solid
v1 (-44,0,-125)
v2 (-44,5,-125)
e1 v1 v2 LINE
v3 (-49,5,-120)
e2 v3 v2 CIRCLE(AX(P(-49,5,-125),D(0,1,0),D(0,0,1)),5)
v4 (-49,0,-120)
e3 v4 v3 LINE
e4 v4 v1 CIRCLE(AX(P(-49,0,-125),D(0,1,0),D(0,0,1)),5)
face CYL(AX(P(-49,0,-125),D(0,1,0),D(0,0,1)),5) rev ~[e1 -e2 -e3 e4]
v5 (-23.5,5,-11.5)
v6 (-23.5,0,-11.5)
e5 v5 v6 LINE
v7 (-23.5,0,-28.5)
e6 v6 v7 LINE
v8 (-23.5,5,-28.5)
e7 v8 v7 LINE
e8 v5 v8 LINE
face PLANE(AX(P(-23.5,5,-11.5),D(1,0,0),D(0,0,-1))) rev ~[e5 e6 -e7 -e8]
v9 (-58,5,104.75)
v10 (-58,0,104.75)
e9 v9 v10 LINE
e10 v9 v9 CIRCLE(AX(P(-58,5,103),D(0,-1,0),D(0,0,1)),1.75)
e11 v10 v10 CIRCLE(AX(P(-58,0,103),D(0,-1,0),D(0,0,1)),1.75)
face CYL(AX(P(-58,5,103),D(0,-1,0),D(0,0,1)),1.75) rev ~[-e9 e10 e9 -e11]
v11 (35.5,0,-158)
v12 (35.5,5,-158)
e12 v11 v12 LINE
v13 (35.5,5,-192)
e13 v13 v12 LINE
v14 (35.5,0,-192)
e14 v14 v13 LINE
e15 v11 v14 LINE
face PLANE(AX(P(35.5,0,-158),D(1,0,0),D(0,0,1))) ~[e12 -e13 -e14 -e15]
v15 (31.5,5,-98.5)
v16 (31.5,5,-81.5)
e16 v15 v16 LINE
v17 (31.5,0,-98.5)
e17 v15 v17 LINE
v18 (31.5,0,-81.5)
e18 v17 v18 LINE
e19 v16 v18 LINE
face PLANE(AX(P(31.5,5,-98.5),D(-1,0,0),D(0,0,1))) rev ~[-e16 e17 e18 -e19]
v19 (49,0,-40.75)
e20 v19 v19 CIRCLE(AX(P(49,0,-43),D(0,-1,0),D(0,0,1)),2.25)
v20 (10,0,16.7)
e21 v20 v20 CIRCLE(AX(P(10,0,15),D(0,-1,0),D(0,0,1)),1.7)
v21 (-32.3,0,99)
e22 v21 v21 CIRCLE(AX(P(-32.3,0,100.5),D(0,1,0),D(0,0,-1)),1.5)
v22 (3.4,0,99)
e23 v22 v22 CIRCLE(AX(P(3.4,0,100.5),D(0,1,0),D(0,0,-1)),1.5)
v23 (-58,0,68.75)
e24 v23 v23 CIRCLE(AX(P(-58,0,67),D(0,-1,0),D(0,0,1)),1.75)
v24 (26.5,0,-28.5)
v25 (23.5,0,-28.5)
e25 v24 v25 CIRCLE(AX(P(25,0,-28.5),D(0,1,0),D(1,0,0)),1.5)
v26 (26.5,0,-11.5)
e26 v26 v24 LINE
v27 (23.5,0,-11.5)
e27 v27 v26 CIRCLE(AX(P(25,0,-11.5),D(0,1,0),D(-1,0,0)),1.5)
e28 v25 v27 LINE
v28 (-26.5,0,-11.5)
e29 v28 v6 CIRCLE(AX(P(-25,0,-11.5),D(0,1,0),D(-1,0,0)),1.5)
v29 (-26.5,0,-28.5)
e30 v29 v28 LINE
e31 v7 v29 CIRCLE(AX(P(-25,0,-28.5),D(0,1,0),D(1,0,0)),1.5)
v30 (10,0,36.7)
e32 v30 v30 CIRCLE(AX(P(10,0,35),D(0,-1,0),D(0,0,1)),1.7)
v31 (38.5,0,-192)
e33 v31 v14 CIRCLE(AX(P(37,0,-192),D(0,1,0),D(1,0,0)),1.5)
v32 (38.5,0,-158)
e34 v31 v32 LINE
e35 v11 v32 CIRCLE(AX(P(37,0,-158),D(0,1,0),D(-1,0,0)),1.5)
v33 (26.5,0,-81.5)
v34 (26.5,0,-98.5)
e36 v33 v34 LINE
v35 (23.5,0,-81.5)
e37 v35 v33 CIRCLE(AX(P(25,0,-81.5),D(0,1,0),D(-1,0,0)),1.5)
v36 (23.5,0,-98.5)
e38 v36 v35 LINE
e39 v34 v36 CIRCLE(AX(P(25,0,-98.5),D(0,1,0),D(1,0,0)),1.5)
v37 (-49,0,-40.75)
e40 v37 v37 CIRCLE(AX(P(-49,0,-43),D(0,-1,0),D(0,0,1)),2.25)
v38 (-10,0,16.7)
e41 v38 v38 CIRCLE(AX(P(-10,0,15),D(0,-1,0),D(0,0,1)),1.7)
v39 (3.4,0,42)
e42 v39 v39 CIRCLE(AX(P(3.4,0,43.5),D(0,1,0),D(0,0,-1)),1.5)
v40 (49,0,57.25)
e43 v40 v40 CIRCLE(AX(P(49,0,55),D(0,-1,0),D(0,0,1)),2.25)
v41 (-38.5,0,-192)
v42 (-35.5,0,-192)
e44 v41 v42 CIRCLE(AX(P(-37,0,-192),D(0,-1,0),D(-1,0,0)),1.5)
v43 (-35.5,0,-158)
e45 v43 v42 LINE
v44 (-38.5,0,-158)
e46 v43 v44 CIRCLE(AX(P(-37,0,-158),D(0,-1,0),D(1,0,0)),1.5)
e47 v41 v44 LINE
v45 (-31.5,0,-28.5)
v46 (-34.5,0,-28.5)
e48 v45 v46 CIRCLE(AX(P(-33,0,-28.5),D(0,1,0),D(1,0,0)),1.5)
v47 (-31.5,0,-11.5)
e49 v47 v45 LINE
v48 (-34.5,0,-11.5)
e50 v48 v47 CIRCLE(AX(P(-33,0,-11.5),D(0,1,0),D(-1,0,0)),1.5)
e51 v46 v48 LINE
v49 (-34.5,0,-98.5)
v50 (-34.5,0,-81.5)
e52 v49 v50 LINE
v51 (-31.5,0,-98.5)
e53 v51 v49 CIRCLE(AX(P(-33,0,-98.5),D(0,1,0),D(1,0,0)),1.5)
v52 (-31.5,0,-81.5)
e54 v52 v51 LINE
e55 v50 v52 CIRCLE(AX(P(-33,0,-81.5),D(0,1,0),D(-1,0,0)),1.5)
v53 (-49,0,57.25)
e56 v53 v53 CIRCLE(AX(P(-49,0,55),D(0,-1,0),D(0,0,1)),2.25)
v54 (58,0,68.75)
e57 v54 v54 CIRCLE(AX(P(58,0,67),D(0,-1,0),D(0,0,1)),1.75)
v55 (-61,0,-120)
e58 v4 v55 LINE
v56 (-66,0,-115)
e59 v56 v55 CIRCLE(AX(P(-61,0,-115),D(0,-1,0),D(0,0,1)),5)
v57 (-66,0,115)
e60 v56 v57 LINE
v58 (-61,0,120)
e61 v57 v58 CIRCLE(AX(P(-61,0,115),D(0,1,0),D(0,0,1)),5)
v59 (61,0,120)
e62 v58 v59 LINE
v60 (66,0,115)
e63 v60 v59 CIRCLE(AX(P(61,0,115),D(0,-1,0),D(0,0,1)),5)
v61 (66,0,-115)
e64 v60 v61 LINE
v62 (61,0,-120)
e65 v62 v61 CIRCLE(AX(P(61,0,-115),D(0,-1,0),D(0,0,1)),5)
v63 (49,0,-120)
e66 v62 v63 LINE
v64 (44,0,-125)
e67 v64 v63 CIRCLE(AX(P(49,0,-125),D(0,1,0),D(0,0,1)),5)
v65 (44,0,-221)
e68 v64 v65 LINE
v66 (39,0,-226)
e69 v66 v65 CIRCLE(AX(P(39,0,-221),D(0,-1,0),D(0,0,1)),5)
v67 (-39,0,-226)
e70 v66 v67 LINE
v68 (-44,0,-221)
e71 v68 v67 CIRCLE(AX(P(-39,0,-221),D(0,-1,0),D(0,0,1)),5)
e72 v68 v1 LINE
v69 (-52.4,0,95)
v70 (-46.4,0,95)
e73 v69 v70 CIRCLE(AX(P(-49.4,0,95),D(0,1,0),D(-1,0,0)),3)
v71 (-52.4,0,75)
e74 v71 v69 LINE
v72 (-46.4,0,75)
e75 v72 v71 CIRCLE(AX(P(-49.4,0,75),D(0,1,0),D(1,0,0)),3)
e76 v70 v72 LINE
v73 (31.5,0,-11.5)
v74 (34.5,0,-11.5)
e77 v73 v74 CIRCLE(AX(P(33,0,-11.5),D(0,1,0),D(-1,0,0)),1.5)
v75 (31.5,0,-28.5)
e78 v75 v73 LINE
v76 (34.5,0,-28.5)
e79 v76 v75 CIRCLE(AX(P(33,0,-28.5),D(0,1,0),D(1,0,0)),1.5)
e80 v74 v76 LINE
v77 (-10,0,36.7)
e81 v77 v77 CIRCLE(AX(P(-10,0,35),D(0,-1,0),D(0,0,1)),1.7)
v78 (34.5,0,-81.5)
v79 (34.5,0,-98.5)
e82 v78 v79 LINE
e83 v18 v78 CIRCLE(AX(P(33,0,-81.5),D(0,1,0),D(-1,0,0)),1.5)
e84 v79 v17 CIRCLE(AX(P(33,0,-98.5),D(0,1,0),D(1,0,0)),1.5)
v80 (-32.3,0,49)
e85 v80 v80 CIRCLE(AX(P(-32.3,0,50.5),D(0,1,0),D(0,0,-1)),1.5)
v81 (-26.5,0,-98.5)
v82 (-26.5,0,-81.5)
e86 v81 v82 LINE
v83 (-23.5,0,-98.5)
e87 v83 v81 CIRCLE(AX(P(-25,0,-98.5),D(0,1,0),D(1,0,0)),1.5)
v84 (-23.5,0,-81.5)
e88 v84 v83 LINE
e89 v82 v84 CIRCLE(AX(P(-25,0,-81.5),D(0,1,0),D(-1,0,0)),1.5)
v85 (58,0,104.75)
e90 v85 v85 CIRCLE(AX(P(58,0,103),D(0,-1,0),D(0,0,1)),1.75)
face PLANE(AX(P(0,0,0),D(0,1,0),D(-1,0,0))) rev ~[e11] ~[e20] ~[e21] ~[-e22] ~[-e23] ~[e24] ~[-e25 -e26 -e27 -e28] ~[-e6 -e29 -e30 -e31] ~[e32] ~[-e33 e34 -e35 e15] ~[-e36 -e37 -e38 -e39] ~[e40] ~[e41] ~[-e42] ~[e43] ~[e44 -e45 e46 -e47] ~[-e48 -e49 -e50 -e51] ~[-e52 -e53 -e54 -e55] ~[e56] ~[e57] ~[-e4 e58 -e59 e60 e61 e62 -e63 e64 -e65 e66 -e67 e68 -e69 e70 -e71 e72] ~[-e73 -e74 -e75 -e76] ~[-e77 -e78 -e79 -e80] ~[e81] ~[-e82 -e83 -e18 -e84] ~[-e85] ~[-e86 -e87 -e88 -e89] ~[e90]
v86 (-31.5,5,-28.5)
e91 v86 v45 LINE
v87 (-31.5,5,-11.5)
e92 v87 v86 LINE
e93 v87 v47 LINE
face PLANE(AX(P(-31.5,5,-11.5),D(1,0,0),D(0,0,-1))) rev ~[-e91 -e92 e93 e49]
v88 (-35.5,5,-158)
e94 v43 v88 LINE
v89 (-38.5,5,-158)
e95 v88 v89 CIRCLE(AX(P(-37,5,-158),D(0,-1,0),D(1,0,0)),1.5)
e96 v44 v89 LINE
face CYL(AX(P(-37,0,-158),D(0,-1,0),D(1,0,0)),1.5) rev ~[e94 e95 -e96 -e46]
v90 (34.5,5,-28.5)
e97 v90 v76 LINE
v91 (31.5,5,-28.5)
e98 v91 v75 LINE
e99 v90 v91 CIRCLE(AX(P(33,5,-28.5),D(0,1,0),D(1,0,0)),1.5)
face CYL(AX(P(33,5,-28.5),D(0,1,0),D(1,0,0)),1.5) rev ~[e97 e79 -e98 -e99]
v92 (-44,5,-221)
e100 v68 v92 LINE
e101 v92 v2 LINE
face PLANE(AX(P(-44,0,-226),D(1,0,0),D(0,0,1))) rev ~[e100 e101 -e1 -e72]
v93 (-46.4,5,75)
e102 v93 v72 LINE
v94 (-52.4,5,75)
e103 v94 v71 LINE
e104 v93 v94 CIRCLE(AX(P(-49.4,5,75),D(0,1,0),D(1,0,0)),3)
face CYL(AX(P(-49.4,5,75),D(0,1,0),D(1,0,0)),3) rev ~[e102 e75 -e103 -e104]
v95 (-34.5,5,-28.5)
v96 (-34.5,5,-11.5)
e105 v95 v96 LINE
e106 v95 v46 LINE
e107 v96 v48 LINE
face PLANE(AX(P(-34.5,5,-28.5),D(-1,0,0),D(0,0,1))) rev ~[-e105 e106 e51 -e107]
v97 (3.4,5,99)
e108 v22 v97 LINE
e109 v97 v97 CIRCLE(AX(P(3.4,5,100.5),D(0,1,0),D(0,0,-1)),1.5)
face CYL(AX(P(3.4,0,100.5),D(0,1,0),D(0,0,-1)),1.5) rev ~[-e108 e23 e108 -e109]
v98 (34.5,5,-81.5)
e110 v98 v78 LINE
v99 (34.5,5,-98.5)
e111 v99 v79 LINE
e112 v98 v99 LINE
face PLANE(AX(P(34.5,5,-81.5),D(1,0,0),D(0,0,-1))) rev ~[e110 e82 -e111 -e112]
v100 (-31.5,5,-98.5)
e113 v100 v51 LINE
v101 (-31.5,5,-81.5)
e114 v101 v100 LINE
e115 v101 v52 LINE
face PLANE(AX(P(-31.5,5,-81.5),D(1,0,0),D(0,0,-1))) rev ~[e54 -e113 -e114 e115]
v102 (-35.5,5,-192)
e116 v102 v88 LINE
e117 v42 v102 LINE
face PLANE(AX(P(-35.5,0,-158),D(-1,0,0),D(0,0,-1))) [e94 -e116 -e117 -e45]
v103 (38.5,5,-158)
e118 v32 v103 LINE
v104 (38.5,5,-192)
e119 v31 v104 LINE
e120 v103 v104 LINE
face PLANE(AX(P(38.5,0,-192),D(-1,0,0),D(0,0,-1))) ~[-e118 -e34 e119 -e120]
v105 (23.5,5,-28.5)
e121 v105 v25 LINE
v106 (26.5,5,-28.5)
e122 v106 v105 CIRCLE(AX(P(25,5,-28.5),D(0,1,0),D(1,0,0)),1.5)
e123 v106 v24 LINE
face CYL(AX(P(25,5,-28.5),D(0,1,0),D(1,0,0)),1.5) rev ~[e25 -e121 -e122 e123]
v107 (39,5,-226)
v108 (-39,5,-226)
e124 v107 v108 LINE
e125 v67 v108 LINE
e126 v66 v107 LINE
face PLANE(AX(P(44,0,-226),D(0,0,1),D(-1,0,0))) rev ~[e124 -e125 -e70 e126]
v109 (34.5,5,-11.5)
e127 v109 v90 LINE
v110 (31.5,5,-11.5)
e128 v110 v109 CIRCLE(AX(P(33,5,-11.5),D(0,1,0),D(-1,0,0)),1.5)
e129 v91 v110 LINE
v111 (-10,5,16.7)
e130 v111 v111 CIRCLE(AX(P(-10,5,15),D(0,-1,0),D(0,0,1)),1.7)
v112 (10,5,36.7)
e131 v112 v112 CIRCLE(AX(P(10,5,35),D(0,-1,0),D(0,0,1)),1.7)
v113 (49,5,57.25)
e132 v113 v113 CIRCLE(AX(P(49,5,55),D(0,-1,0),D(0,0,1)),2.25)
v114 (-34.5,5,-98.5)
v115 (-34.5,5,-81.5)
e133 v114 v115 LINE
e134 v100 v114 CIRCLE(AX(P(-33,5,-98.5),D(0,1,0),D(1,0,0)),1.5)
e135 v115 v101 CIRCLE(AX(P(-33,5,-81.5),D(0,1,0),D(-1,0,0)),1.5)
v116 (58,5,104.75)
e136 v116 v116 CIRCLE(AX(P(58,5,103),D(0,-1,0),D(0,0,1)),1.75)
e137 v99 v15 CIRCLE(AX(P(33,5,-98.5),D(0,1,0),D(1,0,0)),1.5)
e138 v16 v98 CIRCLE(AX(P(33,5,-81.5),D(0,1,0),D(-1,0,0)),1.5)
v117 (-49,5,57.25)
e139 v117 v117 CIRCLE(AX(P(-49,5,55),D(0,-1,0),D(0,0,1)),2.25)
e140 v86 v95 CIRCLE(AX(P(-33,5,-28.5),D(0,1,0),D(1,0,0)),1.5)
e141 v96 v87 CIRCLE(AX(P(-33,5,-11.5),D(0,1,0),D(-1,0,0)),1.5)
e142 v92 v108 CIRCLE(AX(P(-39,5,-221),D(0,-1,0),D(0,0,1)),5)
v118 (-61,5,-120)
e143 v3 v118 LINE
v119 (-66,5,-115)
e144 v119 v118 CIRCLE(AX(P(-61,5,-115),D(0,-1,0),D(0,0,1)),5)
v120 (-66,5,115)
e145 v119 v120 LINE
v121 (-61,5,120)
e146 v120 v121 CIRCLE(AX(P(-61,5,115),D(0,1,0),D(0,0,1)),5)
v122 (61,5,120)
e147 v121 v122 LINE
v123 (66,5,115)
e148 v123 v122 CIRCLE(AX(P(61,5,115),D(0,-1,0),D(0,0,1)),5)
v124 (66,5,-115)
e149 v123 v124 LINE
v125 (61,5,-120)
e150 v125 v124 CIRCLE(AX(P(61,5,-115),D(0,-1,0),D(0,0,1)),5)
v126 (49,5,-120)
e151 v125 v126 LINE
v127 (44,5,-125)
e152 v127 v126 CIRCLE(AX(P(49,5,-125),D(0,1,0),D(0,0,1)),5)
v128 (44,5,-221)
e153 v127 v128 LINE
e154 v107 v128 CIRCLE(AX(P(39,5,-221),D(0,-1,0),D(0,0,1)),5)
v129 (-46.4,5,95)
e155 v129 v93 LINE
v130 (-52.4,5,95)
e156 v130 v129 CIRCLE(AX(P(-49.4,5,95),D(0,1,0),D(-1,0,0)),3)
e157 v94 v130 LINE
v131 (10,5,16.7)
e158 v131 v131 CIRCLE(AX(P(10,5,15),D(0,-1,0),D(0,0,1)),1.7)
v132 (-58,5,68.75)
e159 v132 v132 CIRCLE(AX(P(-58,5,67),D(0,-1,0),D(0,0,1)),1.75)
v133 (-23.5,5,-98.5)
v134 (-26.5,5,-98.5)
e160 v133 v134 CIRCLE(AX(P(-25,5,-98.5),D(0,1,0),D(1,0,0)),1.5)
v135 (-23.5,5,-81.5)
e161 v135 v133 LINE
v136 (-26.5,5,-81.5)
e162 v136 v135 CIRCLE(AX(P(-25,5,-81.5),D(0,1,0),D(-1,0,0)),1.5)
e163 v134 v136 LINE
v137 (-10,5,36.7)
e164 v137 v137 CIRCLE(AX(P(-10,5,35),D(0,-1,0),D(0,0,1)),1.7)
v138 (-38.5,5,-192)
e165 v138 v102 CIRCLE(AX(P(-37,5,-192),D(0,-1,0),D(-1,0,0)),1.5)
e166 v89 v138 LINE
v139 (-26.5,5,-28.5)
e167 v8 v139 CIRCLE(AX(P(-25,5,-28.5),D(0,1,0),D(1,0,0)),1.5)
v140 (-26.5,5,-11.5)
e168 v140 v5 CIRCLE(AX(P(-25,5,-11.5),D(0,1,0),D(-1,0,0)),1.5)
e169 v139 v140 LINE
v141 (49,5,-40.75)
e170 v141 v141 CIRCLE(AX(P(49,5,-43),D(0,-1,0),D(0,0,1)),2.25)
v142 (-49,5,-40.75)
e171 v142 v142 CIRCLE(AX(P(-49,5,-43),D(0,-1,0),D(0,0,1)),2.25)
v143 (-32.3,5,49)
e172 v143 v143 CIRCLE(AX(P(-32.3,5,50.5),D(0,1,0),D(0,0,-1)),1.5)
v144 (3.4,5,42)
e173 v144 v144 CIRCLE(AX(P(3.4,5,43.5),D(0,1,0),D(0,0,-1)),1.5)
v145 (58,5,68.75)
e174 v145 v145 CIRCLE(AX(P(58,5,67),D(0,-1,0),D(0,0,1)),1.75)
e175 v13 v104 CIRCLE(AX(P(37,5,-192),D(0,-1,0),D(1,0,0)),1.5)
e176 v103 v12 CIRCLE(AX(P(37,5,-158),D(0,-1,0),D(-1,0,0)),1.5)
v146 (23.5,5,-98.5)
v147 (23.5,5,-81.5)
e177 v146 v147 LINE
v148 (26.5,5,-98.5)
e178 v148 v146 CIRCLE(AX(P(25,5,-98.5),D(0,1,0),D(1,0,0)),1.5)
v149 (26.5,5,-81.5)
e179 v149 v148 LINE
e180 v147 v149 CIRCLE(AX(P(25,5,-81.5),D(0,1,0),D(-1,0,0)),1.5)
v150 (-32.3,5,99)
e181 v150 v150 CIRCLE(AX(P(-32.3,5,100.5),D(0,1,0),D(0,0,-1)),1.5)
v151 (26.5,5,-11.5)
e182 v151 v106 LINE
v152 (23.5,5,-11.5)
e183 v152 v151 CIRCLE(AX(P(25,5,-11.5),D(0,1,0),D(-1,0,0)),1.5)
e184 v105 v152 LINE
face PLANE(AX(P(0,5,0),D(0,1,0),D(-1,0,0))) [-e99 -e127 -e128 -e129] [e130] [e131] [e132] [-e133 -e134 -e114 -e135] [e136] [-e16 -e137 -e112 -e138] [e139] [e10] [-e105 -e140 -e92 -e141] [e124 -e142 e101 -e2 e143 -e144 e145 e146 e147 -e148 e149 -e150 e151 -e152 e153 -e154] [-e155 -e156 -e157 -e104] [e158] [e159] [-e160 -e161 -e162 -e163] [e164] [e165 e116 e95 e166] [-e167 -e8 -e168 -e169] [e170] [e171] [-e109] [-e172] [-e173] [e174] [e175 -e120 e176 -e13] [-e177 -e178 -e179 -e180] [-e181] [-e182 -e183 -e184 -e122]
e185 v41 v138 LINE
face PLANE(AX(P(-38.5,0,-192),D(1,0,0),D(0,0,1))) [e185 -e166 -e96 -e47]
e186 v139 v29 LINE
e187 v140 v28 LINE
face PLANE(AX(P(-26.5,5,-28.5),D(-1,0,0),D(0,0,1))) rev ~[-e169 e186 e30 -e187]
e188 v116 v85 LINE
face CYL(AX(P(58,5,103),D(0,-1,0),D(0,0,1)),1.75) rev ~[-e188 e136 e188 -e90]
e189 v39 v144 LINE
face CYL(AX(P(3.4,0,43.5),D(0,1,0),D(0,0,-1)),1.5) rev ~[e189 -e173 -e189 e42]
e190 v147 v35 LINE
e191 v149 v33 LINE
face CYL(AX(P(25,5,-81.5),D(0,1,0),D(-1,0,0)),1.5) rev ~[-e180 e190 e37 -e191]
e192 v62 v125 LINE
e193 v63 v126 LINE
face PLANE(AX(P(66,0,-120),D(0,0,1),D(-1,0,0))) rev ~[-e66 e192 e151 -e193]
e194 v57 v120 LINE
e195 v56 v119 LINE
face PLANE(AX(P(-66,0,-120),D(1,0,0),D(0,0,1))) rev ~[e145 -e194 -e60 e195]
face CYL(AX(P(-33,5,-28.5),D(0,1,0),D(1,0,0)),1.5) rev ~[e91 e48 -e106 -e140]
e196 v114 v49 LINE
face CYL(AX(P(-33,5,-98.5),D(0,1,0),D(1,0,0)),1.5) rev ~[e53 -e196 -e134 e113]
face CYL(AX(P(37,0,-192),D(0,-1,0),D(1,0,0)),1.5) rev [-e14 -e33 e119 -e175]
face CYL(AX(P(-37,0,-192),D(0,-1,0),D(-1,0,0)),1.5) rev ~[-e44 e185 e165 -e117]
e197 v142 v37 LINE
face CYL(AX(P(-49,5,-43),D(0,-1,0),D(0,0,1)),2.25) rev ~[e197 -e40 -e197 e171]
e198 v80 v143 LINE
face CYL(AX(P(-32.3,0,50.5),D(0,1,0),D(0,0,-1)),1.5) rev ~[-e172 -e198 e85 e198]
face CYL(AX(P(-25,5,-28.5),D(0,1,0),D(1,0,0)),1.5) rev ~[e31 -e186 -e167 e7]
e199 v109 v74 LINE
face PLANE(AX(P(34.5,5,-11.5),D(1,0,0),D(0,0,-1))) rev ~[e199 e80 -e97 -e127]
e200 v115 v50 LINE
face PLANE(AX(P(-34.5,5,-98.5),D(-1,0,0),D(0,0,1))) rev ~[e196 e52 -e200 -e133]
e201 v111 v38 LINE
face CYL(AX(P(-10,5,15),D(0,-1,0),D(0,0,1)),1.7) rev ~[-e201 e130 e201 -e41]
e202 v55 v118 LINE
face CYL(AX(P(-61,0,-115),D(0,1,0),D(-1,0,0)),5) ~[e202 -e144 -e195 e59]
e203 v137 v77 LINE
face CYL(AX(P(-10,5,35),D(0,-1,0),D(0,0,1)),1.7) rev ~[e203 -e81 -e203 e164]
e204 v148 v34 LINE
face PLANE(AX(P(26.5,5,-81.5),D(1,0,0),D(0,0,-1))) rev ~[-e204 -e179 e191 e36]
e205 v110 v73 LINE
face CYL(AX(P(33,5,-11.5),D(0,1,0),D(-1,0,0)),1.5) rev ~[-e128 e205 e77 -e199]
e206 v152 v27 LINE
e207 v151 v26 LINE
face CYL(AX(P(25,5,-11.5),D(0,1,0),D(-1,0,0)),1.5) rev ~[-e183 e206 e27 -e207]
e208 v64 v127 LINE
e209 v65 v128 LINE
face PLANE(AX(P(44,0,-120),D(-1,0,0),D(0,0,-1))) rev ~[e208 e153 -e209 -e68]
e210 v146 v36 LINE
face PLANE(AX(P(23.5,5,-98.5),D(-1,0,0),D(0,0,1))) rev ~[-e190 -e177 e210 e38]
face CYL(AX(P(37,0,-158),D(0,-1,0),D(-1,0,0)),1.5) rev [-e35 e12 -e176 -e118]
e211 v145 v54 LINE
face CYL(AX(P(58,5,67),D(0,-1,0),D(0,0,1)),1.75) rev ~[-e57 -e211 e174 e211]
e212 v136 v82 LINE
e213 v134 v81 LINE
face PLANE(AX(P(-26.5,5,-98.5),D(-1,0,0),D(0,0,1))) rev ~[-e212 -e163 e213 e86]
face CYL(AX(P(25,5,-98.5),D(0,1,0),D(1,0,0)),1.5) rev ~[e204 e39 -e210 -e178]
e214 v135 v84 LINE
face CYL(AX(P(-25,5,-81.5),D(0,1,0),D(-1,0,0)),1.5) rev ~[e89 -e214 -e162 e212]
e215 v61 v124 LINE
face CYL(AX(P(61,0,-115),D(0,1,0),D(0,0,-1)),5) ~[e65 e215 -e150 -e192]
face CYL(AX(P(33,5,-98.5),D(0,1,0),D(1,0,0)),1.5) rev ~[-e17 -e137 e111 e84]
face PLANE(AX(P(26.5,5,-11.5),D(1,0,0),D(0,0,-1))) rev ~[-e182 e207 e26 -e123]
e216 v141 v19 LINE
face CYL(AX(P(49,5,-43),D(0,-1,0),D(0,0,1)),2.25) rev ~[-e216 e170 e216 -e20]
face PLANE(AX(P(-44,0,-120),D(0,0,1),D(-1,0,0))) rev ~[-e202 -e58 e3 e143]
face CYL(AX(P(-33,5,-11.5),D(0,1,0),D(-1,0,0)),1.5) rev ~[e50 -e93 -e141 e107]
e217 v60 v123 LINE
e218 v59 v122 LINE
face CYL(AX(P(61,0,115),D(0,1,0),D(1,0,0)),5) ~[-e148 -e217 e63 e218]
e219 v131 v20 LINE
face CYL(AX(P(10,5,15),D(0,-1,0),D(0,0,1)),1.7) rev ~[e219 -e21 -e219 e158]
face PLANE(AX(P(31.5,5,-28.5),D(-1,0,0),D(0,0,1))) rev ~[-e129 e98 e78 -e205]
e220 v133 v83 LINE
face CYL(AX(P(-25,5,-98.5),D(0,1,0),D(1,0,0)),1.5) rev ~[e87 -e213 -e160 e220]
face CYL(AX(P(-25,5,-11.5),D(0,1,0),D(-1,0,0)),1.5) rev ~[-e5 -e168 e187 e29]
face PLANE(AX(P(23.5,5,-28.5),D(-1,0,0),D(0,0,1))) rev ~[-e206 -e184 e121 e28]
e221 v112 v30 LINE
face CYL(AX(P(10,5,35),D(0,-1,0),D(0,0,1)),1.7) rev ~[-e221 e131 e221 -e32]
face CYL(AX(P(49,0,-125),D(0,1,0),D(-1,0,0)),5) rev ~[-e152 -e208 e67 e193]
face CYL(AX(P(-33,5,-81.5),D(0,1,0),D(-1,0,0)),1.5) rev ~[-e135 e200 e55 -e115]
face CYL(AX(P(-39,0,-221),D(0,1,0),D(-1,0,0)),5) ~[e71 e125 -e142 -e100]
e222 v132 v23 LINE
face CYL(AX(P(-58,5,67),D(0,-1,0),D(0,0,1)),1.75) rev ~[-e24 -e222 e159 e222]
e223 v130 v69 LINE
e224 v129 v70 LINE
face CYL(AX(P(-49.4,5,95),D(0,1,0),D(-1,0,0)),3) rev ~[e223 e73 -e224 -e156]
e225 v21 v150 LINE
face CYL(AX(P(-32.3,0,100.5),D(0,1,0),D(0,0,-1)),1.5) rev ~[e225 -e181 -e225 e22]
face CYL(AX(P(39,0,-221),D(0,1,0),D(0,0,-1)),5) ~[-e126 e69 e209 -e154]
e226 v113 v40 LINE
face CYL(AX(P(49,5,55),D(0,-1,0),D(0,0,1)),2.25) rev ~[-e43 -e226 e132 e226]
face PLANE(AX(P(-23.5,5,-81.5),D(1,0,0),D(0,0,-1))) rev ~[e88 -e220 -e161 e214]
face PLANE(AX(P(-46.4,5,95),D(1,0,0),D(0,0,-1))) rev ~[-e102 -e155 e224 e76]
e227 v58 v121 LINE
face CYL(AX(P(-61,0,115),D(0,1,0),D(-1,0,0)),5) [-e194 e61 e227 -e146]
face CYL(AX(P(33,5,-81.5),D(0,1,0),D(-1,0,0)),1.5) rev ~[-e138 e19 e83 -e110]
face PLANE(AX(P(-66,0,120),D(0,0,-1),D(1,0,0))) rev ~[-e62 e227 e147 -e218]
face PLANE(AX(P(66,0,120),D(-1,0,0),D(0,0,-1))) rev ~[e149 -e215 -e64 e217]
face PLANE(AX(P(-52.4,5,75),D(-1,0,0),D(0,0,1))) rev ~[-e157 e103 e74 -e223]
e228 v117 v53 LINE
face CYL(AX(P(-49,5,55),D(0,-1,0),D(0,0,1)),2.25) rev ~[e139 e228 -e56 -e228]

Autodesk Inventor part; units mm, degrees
ref_plane "YZ Plane" through (0, 0, 0) normal (1, 0, 0) x (0, 1, 0)
ref_plane "XZ Plane" through (0, 0, 0) normal (0, 1, 0) x (-1, 0, 0)
ref_plane "XY Plane" through (0, 0, 0) normal (0, 0, 1) x (1, 0, 0)
sketch "Esquisse1" plane through (0, 0, 0) normal (0, 1, 0) x (-1, 0, 0)
  line L0 (66, 120) -> (-66, 120)
  line L1 (-66, 120) -> (-66, -120)
  line L2 (66, -120) -> (66, 120)
  line L3 (66, 120) -> (-66, -120) construction
  line L4 (-66, 120) -> (66, -120) construction
  line L5 (-44, -120) -> (-44, -226)
  line L6 (-44, -226) -> (44, -226)
  line L7 (44, -226) -> (44, -120)
  line L8 (-66, -120) -> (-44, -120)
  line L9 (44, -120) -> (66, -120)
  point P0 (0, 0)
  dimension "d0" = 240
  dimension "d1" = 132
  dimension "d2" = 88
  dimension "d3" = 44
  dimension "d5" = 346
extrude "Extrusion1" add sketch "Esquisse1" along normal blind 5
fillet "Congé1" radius 5 8 edges at (-66, 2.5, 120) (66, 2.5, 120) (66, 2.5, -120) (44, 2.5, -226) (44, 2.5, -120) (-44, 2.5, -226) (-44, 2.5, -120) (-66, 2.5, -120)
sketch "Esquisse3" plane through (0, 5, 0) normal (0, 1, 0) x (1, 0, 0)
  line L0 (-61, -120) -> (61, -120) projected
  line L1 (-66, 115) -> (-66, -115) projected
  point P0 (0, 0)
  point P1 (-58, -103)
  dimension "d31" = 17
  dimension "d32" = 8
hole "Perçage2" at (-58, 5, 103) direction (0, -1, 0) diameter 3.5 end through all
pattern_linear "Réseau rectangulaire2" count 2 spacing 36 along (0, 0, -1) count 2 spacing 116 along (1, 0, 0) of "Perçage2"
sketch "Esquisse4" plane through (0, 5, 0) normal (0, 1, 0) x (1, 0, 0)
  line L0 (-49.4, -75) -> (-49.4, -95) construction
  line L1 (-52.4, -75) -> (-52.4, -95)
  line L2 (-46.4, -95) -> (-46.4, -75)
  arc A0 (-46.4, -75) -> (-52.4, -75) centre (-49.4, -75) ccw
  arc A1 (-52.4, -95) -> (-46.4, -95) centre (-49.4, -95) ccw
  line L3 (66, -115) -> (66, 115) projected
  line L4 (-61, -120) -> (61, -120) projected
  line L5 (-66, 115) -> (-66, -115) projected
  point P0 (0, 0)
  point P1 (-49.4, -85)
  dimension "d39" = 3
  dimension "d41" = 35
  dimension "d42" = 20
  dimension "d45" = 16.6
extrude "Extrusion2" cut sketch "Esquisse4" against normal through all
sketch "Esquisse5" plane through (0, 0, 0) normal (0, -1, 0) x (1, 0, 0)
  line L0 (-61, 120) -> (61, 120) projected
  line L1 (-66, -115) -> (-66, 115) projected
  point P0 (0, 0)
  point P1 (3.4, 100.5)
  dimension "d53" = 19.5
  dimension "d54" = 69.4
hole "Perçage3" at (3.4, 0, 100.5) direction (0, 1, 0) diameter 3 end through all
pattern_linear "Réseau rectangulaire3" count 2 spacing 57 along (0, 0, -1) of "Perçage3"
sketch "Esquisse6" plane through (0, 0, 0) normal (0, -1, 0) x (1, 0, 0)
  line L0 (-61, 120) -> (61, 120) projected
  line L1 (-66, -115) -> (-66, 115) projected
  point P0 (0, 0)
  point P1 (-32.3, 100.5)
  dimension "d65" = 19.5
  dimension "d66" = 33.7
hole "Perçage4" at (-32.3, 0, 100.5) direction (0, 1, 0) diameter 3 end through all
pattern_linear "Réseau rectangulaire4" count 2 spacing 50 along (0, 0, -1) of "Perçage4"
sketch "Esquisse7" plane through (0, 0, 0) normal (0, -1, 0) x (1, 0, 0)
  line L0 (-37, -192) -> (-37, -158) construction
  line L1 (-38.5, -192) -> (-38.5, -158)
  line L2 (-35.5, -158) -> (-35.5, -192)
  arc A0 (-38.5, -192) -> (-35.5, -192) centre (-37, -192) ccw
  arc A1 (-35.5, -158) -> (-38.5, -158) centre (-37, -158) ccw
  line L3 (39, -226) -> (-39, -226) projected
  line L4 (-44, -221) -> (-44, -125) projected
  point P0 (0, 0)
  point P1 (-37, -175)
  dimension "d70" = 1.5
  dimension "d71" = 34
  dimension "d72" = 34
  dimension "d73" = 7
extrude "Extrusion3" cut sketch "Esquisse7" against normal through all
mirror "Symétrie1" about plane through (0, 0, 0) normal (1, 0, 0) of "Extrusion3"
sketch "Sketch8" plane through (0, 5, 0) normal (0, 1, 0) x (1, 0, 0)
  line L0 (-61, -120) -> (61, -120) construction
  line L1 (0, -120) -> (0, 226) construction
  line L2 (39, 226) -> (-39, 226) construction
  point P0 (0, 0)
  point P1 (49, -55)
  point P2 (49, 43)
  point P3 (-49, -55)
  point P4 (-49, 43)
  dimension "d86" = 98
  dimension "d89" = 98
  dimension "d92" = 49
  dimension "d93" = 65
hole "Hole5" at (49, 5, 55) at (49, 5, -43) at (-49, 5, 55) at (-49, 5, -43) direction (0, -1, 0) diameter 4.5 end through all clearance for "Countersunk Flat Head Screw DIN EN ISO 2009" size "M4" standard "DIN"
sketch "Sketch9" plane through (0, 5, 0) normal (0, 1, 0) x (1, 0, 0)
  line L0 (25, 11.5) -> (25, 28.5) construction
  line L1 (26.5, 11.5) -> (26.5, 28.5)
  line L2 (23.5, 28.5) -> (23.5, 11.5)
  arc A0 (23.5, 11.5) -> (26.5, 11.5) centre (25, 11.5) ccw
  arc A1 (26.5, 28.5) -> (23.5, 28.5) centre (25, 28.5) ccw
  line L3 (0, 0) -> (47.7976, 0) construction
  line L4 (33, 11.5) -> (33, 28.5) construction
  line L5 (34.5, 11.5) -> (34.5, 28.5)
  line L6 (31.5, 28.5) -> (31.5, 11.5)
  arc A2 (31.5, 11.5) -> (34.5, 11.5) centre (33, 11.5) ccw
  arc A3 (34.5, 28.5) -> (31.5, 28.5) centre (33, 28.5) ccw
  line L7 (0, 0) -> (0, 64.8348) construction
  line L8 (-25, 11.5) -> (-25, 28.5) construction
  line L9 (-33, 11.5) -> (-33, 28.5) construction
  line L10 (-31.5, 11.5) -> (-31.5, 28.5)
  line L11 (-34.5, 28.5) -> (-34.5, 11.5)
  line L12 (-26.5, 28.5) -> (-26.5, 11.5)
  line L13 (-23.5, 11.5) -> (-23.5, 28.5)
  arc A4 (-34.5, 11.5) -> (-31.5, 11.5) centre (-33, 11.5) ccw
  arc A5 (-26.5, 11.5) -> (-23.5, 11.5) centre (-25, 11.5) ccw
  arc A6 (-31.5, 28.5) -> (-34.5, 28.5) centre (-33, 28.5) ccw
  arc A7 (-23.5, 28.5) -> (-26.5, 28.5) centre (-25, 28.5) ccw
  line L14 (33, 81.5) -> (33, 98.5) construction
  line L15 (25, 81.5) -> (25, 98.5) construction
  line L16 (26.5, 81.5) -> (26.5, 98.5)
  line L17 (23.5, 98.5) -> (23.5, 81.5)
  line L18 (31.5, 98.5) -> (31.5, 81.5)
  line L19 (34.5, 81.5) -> (34.5, 98.5)
  arc A8 (23.5, 81.5) -> (26.5, 81.5) centre (25, 81.5) ccw
  arc A9 (31.5, 81.5) -> (34.5, 81.5) centre (33, 81.5) ccw
  arc A10 (26.5, 98.5) -> (23.5, 98.5) centre (25, 98.5) ccw
  arc A11 (34.5, 98.5) -> (31.5, 98.5) centre (33, 98.5) ccw
  line L20 (-25, 81.5) -> (-25, 98.5) construction
  line L21 (-33, 81.5) -> (-33, 98.5) construction
  line L22 (-31.5, 81.5) -> (-31.5, 98.5)
  line L23 (-34.5, 98.5) -> (-34.5, 81.5)
  line L24 (-26.5, 98.5) -> (-26.5, 81.5)
  line L25 (-23.5, 81.5) -> (-23.5, 98.5)
  arc A12 (-34.5, 81.5) -> (-31.5, 81.5) centre (-33, 81.5) ccw
  arc A13 (-26.5, 81.5) -> (-23.5, 81.5) centre (-25, 81.5) ccw
  arc A14 (-31.5, 98.5) -> (-34.5, 98.5) centre (-33, 98.5) ccw
  arc A15 (-23.5, 98.5) -> (-26.5, 98.5) centre (-25, 98.5) ccw
  point P0 (25, 20)
  point P1 (25, 10)
  point P2 (25, 30)
  point P3 (33, 10)
  point P4 (33, 30)
  point P5 (33, 20)
  point P6 (-33, 20)
  point P7 (-25, 20)
  point P8 (-33, 10)
  point P9 (-25, 10)
  point P10 (-33, 30)
  point P11 (-25, 30)
  point P12 (25, 90)
  point P13 (33, 90)
  point P14 (25, 80)
  point P15 (33, 80)
  point P16 (25, 100)
  point P17 (33, 100)
  point P18 (-33, 90)
  point P19 (-25, 90)
  point P20 (-33, 80)
  point P21 (-25, 80)
  point P22 (-33, 100)
  point P23 (-25, 100)
  dimension "d94" = 3
  dimension "d95" = 20
  dimension "d96" = 25
  dimension "d99" = 8
  dimension "d115" = 58
  dimension "d118" = 70
  dimension "d123" = 20
extrude "Extrusion4" cut sketch "Sketch9" against normal through all
sketch "Sketch11" plane through (0, 5, 0) normal (0, 1, 0) x (1, 0, 0)
  line L0 (0, 0) -> (22.9604, 0) construction
  line L1 (22.9604, 0) -> (0, 0) construction
  line L2 (0, 13.4889) -> (0, 0) construction
  point P0 (-10, -35)
  point P1 (10, -35)
  point P2 (-10, -15)
  point P3 (10, -15)
  dimension "d131" = 10
  dimension "d132" = 35
  dimension "d135" = 20
  dimension "d138" = 20
hole "Hole6" at (-10, 5, 35) at (10, 5, 35) at (-10, 5, 15) at (10, 5, 15) direction (0, -1, 0) diameter 3.4 end through all clearance for "Countersunk Flat Head Screw DIN EN ISO 2009" size "M3" standard "DIN"
equation "\"d86\" = pcb_fixation_ecart"
equation "\"d89\" = pcb_fixation_ecart"
equation "\"d92\" = 0.5 * d89"
equation "\"d115\" = 2 * d96 + d99"
equation "\"d135\" = 2 * d131"
equation "\"pcb_fixation_ecart\" = 98"
properties part number "chassis_3DPrint"
